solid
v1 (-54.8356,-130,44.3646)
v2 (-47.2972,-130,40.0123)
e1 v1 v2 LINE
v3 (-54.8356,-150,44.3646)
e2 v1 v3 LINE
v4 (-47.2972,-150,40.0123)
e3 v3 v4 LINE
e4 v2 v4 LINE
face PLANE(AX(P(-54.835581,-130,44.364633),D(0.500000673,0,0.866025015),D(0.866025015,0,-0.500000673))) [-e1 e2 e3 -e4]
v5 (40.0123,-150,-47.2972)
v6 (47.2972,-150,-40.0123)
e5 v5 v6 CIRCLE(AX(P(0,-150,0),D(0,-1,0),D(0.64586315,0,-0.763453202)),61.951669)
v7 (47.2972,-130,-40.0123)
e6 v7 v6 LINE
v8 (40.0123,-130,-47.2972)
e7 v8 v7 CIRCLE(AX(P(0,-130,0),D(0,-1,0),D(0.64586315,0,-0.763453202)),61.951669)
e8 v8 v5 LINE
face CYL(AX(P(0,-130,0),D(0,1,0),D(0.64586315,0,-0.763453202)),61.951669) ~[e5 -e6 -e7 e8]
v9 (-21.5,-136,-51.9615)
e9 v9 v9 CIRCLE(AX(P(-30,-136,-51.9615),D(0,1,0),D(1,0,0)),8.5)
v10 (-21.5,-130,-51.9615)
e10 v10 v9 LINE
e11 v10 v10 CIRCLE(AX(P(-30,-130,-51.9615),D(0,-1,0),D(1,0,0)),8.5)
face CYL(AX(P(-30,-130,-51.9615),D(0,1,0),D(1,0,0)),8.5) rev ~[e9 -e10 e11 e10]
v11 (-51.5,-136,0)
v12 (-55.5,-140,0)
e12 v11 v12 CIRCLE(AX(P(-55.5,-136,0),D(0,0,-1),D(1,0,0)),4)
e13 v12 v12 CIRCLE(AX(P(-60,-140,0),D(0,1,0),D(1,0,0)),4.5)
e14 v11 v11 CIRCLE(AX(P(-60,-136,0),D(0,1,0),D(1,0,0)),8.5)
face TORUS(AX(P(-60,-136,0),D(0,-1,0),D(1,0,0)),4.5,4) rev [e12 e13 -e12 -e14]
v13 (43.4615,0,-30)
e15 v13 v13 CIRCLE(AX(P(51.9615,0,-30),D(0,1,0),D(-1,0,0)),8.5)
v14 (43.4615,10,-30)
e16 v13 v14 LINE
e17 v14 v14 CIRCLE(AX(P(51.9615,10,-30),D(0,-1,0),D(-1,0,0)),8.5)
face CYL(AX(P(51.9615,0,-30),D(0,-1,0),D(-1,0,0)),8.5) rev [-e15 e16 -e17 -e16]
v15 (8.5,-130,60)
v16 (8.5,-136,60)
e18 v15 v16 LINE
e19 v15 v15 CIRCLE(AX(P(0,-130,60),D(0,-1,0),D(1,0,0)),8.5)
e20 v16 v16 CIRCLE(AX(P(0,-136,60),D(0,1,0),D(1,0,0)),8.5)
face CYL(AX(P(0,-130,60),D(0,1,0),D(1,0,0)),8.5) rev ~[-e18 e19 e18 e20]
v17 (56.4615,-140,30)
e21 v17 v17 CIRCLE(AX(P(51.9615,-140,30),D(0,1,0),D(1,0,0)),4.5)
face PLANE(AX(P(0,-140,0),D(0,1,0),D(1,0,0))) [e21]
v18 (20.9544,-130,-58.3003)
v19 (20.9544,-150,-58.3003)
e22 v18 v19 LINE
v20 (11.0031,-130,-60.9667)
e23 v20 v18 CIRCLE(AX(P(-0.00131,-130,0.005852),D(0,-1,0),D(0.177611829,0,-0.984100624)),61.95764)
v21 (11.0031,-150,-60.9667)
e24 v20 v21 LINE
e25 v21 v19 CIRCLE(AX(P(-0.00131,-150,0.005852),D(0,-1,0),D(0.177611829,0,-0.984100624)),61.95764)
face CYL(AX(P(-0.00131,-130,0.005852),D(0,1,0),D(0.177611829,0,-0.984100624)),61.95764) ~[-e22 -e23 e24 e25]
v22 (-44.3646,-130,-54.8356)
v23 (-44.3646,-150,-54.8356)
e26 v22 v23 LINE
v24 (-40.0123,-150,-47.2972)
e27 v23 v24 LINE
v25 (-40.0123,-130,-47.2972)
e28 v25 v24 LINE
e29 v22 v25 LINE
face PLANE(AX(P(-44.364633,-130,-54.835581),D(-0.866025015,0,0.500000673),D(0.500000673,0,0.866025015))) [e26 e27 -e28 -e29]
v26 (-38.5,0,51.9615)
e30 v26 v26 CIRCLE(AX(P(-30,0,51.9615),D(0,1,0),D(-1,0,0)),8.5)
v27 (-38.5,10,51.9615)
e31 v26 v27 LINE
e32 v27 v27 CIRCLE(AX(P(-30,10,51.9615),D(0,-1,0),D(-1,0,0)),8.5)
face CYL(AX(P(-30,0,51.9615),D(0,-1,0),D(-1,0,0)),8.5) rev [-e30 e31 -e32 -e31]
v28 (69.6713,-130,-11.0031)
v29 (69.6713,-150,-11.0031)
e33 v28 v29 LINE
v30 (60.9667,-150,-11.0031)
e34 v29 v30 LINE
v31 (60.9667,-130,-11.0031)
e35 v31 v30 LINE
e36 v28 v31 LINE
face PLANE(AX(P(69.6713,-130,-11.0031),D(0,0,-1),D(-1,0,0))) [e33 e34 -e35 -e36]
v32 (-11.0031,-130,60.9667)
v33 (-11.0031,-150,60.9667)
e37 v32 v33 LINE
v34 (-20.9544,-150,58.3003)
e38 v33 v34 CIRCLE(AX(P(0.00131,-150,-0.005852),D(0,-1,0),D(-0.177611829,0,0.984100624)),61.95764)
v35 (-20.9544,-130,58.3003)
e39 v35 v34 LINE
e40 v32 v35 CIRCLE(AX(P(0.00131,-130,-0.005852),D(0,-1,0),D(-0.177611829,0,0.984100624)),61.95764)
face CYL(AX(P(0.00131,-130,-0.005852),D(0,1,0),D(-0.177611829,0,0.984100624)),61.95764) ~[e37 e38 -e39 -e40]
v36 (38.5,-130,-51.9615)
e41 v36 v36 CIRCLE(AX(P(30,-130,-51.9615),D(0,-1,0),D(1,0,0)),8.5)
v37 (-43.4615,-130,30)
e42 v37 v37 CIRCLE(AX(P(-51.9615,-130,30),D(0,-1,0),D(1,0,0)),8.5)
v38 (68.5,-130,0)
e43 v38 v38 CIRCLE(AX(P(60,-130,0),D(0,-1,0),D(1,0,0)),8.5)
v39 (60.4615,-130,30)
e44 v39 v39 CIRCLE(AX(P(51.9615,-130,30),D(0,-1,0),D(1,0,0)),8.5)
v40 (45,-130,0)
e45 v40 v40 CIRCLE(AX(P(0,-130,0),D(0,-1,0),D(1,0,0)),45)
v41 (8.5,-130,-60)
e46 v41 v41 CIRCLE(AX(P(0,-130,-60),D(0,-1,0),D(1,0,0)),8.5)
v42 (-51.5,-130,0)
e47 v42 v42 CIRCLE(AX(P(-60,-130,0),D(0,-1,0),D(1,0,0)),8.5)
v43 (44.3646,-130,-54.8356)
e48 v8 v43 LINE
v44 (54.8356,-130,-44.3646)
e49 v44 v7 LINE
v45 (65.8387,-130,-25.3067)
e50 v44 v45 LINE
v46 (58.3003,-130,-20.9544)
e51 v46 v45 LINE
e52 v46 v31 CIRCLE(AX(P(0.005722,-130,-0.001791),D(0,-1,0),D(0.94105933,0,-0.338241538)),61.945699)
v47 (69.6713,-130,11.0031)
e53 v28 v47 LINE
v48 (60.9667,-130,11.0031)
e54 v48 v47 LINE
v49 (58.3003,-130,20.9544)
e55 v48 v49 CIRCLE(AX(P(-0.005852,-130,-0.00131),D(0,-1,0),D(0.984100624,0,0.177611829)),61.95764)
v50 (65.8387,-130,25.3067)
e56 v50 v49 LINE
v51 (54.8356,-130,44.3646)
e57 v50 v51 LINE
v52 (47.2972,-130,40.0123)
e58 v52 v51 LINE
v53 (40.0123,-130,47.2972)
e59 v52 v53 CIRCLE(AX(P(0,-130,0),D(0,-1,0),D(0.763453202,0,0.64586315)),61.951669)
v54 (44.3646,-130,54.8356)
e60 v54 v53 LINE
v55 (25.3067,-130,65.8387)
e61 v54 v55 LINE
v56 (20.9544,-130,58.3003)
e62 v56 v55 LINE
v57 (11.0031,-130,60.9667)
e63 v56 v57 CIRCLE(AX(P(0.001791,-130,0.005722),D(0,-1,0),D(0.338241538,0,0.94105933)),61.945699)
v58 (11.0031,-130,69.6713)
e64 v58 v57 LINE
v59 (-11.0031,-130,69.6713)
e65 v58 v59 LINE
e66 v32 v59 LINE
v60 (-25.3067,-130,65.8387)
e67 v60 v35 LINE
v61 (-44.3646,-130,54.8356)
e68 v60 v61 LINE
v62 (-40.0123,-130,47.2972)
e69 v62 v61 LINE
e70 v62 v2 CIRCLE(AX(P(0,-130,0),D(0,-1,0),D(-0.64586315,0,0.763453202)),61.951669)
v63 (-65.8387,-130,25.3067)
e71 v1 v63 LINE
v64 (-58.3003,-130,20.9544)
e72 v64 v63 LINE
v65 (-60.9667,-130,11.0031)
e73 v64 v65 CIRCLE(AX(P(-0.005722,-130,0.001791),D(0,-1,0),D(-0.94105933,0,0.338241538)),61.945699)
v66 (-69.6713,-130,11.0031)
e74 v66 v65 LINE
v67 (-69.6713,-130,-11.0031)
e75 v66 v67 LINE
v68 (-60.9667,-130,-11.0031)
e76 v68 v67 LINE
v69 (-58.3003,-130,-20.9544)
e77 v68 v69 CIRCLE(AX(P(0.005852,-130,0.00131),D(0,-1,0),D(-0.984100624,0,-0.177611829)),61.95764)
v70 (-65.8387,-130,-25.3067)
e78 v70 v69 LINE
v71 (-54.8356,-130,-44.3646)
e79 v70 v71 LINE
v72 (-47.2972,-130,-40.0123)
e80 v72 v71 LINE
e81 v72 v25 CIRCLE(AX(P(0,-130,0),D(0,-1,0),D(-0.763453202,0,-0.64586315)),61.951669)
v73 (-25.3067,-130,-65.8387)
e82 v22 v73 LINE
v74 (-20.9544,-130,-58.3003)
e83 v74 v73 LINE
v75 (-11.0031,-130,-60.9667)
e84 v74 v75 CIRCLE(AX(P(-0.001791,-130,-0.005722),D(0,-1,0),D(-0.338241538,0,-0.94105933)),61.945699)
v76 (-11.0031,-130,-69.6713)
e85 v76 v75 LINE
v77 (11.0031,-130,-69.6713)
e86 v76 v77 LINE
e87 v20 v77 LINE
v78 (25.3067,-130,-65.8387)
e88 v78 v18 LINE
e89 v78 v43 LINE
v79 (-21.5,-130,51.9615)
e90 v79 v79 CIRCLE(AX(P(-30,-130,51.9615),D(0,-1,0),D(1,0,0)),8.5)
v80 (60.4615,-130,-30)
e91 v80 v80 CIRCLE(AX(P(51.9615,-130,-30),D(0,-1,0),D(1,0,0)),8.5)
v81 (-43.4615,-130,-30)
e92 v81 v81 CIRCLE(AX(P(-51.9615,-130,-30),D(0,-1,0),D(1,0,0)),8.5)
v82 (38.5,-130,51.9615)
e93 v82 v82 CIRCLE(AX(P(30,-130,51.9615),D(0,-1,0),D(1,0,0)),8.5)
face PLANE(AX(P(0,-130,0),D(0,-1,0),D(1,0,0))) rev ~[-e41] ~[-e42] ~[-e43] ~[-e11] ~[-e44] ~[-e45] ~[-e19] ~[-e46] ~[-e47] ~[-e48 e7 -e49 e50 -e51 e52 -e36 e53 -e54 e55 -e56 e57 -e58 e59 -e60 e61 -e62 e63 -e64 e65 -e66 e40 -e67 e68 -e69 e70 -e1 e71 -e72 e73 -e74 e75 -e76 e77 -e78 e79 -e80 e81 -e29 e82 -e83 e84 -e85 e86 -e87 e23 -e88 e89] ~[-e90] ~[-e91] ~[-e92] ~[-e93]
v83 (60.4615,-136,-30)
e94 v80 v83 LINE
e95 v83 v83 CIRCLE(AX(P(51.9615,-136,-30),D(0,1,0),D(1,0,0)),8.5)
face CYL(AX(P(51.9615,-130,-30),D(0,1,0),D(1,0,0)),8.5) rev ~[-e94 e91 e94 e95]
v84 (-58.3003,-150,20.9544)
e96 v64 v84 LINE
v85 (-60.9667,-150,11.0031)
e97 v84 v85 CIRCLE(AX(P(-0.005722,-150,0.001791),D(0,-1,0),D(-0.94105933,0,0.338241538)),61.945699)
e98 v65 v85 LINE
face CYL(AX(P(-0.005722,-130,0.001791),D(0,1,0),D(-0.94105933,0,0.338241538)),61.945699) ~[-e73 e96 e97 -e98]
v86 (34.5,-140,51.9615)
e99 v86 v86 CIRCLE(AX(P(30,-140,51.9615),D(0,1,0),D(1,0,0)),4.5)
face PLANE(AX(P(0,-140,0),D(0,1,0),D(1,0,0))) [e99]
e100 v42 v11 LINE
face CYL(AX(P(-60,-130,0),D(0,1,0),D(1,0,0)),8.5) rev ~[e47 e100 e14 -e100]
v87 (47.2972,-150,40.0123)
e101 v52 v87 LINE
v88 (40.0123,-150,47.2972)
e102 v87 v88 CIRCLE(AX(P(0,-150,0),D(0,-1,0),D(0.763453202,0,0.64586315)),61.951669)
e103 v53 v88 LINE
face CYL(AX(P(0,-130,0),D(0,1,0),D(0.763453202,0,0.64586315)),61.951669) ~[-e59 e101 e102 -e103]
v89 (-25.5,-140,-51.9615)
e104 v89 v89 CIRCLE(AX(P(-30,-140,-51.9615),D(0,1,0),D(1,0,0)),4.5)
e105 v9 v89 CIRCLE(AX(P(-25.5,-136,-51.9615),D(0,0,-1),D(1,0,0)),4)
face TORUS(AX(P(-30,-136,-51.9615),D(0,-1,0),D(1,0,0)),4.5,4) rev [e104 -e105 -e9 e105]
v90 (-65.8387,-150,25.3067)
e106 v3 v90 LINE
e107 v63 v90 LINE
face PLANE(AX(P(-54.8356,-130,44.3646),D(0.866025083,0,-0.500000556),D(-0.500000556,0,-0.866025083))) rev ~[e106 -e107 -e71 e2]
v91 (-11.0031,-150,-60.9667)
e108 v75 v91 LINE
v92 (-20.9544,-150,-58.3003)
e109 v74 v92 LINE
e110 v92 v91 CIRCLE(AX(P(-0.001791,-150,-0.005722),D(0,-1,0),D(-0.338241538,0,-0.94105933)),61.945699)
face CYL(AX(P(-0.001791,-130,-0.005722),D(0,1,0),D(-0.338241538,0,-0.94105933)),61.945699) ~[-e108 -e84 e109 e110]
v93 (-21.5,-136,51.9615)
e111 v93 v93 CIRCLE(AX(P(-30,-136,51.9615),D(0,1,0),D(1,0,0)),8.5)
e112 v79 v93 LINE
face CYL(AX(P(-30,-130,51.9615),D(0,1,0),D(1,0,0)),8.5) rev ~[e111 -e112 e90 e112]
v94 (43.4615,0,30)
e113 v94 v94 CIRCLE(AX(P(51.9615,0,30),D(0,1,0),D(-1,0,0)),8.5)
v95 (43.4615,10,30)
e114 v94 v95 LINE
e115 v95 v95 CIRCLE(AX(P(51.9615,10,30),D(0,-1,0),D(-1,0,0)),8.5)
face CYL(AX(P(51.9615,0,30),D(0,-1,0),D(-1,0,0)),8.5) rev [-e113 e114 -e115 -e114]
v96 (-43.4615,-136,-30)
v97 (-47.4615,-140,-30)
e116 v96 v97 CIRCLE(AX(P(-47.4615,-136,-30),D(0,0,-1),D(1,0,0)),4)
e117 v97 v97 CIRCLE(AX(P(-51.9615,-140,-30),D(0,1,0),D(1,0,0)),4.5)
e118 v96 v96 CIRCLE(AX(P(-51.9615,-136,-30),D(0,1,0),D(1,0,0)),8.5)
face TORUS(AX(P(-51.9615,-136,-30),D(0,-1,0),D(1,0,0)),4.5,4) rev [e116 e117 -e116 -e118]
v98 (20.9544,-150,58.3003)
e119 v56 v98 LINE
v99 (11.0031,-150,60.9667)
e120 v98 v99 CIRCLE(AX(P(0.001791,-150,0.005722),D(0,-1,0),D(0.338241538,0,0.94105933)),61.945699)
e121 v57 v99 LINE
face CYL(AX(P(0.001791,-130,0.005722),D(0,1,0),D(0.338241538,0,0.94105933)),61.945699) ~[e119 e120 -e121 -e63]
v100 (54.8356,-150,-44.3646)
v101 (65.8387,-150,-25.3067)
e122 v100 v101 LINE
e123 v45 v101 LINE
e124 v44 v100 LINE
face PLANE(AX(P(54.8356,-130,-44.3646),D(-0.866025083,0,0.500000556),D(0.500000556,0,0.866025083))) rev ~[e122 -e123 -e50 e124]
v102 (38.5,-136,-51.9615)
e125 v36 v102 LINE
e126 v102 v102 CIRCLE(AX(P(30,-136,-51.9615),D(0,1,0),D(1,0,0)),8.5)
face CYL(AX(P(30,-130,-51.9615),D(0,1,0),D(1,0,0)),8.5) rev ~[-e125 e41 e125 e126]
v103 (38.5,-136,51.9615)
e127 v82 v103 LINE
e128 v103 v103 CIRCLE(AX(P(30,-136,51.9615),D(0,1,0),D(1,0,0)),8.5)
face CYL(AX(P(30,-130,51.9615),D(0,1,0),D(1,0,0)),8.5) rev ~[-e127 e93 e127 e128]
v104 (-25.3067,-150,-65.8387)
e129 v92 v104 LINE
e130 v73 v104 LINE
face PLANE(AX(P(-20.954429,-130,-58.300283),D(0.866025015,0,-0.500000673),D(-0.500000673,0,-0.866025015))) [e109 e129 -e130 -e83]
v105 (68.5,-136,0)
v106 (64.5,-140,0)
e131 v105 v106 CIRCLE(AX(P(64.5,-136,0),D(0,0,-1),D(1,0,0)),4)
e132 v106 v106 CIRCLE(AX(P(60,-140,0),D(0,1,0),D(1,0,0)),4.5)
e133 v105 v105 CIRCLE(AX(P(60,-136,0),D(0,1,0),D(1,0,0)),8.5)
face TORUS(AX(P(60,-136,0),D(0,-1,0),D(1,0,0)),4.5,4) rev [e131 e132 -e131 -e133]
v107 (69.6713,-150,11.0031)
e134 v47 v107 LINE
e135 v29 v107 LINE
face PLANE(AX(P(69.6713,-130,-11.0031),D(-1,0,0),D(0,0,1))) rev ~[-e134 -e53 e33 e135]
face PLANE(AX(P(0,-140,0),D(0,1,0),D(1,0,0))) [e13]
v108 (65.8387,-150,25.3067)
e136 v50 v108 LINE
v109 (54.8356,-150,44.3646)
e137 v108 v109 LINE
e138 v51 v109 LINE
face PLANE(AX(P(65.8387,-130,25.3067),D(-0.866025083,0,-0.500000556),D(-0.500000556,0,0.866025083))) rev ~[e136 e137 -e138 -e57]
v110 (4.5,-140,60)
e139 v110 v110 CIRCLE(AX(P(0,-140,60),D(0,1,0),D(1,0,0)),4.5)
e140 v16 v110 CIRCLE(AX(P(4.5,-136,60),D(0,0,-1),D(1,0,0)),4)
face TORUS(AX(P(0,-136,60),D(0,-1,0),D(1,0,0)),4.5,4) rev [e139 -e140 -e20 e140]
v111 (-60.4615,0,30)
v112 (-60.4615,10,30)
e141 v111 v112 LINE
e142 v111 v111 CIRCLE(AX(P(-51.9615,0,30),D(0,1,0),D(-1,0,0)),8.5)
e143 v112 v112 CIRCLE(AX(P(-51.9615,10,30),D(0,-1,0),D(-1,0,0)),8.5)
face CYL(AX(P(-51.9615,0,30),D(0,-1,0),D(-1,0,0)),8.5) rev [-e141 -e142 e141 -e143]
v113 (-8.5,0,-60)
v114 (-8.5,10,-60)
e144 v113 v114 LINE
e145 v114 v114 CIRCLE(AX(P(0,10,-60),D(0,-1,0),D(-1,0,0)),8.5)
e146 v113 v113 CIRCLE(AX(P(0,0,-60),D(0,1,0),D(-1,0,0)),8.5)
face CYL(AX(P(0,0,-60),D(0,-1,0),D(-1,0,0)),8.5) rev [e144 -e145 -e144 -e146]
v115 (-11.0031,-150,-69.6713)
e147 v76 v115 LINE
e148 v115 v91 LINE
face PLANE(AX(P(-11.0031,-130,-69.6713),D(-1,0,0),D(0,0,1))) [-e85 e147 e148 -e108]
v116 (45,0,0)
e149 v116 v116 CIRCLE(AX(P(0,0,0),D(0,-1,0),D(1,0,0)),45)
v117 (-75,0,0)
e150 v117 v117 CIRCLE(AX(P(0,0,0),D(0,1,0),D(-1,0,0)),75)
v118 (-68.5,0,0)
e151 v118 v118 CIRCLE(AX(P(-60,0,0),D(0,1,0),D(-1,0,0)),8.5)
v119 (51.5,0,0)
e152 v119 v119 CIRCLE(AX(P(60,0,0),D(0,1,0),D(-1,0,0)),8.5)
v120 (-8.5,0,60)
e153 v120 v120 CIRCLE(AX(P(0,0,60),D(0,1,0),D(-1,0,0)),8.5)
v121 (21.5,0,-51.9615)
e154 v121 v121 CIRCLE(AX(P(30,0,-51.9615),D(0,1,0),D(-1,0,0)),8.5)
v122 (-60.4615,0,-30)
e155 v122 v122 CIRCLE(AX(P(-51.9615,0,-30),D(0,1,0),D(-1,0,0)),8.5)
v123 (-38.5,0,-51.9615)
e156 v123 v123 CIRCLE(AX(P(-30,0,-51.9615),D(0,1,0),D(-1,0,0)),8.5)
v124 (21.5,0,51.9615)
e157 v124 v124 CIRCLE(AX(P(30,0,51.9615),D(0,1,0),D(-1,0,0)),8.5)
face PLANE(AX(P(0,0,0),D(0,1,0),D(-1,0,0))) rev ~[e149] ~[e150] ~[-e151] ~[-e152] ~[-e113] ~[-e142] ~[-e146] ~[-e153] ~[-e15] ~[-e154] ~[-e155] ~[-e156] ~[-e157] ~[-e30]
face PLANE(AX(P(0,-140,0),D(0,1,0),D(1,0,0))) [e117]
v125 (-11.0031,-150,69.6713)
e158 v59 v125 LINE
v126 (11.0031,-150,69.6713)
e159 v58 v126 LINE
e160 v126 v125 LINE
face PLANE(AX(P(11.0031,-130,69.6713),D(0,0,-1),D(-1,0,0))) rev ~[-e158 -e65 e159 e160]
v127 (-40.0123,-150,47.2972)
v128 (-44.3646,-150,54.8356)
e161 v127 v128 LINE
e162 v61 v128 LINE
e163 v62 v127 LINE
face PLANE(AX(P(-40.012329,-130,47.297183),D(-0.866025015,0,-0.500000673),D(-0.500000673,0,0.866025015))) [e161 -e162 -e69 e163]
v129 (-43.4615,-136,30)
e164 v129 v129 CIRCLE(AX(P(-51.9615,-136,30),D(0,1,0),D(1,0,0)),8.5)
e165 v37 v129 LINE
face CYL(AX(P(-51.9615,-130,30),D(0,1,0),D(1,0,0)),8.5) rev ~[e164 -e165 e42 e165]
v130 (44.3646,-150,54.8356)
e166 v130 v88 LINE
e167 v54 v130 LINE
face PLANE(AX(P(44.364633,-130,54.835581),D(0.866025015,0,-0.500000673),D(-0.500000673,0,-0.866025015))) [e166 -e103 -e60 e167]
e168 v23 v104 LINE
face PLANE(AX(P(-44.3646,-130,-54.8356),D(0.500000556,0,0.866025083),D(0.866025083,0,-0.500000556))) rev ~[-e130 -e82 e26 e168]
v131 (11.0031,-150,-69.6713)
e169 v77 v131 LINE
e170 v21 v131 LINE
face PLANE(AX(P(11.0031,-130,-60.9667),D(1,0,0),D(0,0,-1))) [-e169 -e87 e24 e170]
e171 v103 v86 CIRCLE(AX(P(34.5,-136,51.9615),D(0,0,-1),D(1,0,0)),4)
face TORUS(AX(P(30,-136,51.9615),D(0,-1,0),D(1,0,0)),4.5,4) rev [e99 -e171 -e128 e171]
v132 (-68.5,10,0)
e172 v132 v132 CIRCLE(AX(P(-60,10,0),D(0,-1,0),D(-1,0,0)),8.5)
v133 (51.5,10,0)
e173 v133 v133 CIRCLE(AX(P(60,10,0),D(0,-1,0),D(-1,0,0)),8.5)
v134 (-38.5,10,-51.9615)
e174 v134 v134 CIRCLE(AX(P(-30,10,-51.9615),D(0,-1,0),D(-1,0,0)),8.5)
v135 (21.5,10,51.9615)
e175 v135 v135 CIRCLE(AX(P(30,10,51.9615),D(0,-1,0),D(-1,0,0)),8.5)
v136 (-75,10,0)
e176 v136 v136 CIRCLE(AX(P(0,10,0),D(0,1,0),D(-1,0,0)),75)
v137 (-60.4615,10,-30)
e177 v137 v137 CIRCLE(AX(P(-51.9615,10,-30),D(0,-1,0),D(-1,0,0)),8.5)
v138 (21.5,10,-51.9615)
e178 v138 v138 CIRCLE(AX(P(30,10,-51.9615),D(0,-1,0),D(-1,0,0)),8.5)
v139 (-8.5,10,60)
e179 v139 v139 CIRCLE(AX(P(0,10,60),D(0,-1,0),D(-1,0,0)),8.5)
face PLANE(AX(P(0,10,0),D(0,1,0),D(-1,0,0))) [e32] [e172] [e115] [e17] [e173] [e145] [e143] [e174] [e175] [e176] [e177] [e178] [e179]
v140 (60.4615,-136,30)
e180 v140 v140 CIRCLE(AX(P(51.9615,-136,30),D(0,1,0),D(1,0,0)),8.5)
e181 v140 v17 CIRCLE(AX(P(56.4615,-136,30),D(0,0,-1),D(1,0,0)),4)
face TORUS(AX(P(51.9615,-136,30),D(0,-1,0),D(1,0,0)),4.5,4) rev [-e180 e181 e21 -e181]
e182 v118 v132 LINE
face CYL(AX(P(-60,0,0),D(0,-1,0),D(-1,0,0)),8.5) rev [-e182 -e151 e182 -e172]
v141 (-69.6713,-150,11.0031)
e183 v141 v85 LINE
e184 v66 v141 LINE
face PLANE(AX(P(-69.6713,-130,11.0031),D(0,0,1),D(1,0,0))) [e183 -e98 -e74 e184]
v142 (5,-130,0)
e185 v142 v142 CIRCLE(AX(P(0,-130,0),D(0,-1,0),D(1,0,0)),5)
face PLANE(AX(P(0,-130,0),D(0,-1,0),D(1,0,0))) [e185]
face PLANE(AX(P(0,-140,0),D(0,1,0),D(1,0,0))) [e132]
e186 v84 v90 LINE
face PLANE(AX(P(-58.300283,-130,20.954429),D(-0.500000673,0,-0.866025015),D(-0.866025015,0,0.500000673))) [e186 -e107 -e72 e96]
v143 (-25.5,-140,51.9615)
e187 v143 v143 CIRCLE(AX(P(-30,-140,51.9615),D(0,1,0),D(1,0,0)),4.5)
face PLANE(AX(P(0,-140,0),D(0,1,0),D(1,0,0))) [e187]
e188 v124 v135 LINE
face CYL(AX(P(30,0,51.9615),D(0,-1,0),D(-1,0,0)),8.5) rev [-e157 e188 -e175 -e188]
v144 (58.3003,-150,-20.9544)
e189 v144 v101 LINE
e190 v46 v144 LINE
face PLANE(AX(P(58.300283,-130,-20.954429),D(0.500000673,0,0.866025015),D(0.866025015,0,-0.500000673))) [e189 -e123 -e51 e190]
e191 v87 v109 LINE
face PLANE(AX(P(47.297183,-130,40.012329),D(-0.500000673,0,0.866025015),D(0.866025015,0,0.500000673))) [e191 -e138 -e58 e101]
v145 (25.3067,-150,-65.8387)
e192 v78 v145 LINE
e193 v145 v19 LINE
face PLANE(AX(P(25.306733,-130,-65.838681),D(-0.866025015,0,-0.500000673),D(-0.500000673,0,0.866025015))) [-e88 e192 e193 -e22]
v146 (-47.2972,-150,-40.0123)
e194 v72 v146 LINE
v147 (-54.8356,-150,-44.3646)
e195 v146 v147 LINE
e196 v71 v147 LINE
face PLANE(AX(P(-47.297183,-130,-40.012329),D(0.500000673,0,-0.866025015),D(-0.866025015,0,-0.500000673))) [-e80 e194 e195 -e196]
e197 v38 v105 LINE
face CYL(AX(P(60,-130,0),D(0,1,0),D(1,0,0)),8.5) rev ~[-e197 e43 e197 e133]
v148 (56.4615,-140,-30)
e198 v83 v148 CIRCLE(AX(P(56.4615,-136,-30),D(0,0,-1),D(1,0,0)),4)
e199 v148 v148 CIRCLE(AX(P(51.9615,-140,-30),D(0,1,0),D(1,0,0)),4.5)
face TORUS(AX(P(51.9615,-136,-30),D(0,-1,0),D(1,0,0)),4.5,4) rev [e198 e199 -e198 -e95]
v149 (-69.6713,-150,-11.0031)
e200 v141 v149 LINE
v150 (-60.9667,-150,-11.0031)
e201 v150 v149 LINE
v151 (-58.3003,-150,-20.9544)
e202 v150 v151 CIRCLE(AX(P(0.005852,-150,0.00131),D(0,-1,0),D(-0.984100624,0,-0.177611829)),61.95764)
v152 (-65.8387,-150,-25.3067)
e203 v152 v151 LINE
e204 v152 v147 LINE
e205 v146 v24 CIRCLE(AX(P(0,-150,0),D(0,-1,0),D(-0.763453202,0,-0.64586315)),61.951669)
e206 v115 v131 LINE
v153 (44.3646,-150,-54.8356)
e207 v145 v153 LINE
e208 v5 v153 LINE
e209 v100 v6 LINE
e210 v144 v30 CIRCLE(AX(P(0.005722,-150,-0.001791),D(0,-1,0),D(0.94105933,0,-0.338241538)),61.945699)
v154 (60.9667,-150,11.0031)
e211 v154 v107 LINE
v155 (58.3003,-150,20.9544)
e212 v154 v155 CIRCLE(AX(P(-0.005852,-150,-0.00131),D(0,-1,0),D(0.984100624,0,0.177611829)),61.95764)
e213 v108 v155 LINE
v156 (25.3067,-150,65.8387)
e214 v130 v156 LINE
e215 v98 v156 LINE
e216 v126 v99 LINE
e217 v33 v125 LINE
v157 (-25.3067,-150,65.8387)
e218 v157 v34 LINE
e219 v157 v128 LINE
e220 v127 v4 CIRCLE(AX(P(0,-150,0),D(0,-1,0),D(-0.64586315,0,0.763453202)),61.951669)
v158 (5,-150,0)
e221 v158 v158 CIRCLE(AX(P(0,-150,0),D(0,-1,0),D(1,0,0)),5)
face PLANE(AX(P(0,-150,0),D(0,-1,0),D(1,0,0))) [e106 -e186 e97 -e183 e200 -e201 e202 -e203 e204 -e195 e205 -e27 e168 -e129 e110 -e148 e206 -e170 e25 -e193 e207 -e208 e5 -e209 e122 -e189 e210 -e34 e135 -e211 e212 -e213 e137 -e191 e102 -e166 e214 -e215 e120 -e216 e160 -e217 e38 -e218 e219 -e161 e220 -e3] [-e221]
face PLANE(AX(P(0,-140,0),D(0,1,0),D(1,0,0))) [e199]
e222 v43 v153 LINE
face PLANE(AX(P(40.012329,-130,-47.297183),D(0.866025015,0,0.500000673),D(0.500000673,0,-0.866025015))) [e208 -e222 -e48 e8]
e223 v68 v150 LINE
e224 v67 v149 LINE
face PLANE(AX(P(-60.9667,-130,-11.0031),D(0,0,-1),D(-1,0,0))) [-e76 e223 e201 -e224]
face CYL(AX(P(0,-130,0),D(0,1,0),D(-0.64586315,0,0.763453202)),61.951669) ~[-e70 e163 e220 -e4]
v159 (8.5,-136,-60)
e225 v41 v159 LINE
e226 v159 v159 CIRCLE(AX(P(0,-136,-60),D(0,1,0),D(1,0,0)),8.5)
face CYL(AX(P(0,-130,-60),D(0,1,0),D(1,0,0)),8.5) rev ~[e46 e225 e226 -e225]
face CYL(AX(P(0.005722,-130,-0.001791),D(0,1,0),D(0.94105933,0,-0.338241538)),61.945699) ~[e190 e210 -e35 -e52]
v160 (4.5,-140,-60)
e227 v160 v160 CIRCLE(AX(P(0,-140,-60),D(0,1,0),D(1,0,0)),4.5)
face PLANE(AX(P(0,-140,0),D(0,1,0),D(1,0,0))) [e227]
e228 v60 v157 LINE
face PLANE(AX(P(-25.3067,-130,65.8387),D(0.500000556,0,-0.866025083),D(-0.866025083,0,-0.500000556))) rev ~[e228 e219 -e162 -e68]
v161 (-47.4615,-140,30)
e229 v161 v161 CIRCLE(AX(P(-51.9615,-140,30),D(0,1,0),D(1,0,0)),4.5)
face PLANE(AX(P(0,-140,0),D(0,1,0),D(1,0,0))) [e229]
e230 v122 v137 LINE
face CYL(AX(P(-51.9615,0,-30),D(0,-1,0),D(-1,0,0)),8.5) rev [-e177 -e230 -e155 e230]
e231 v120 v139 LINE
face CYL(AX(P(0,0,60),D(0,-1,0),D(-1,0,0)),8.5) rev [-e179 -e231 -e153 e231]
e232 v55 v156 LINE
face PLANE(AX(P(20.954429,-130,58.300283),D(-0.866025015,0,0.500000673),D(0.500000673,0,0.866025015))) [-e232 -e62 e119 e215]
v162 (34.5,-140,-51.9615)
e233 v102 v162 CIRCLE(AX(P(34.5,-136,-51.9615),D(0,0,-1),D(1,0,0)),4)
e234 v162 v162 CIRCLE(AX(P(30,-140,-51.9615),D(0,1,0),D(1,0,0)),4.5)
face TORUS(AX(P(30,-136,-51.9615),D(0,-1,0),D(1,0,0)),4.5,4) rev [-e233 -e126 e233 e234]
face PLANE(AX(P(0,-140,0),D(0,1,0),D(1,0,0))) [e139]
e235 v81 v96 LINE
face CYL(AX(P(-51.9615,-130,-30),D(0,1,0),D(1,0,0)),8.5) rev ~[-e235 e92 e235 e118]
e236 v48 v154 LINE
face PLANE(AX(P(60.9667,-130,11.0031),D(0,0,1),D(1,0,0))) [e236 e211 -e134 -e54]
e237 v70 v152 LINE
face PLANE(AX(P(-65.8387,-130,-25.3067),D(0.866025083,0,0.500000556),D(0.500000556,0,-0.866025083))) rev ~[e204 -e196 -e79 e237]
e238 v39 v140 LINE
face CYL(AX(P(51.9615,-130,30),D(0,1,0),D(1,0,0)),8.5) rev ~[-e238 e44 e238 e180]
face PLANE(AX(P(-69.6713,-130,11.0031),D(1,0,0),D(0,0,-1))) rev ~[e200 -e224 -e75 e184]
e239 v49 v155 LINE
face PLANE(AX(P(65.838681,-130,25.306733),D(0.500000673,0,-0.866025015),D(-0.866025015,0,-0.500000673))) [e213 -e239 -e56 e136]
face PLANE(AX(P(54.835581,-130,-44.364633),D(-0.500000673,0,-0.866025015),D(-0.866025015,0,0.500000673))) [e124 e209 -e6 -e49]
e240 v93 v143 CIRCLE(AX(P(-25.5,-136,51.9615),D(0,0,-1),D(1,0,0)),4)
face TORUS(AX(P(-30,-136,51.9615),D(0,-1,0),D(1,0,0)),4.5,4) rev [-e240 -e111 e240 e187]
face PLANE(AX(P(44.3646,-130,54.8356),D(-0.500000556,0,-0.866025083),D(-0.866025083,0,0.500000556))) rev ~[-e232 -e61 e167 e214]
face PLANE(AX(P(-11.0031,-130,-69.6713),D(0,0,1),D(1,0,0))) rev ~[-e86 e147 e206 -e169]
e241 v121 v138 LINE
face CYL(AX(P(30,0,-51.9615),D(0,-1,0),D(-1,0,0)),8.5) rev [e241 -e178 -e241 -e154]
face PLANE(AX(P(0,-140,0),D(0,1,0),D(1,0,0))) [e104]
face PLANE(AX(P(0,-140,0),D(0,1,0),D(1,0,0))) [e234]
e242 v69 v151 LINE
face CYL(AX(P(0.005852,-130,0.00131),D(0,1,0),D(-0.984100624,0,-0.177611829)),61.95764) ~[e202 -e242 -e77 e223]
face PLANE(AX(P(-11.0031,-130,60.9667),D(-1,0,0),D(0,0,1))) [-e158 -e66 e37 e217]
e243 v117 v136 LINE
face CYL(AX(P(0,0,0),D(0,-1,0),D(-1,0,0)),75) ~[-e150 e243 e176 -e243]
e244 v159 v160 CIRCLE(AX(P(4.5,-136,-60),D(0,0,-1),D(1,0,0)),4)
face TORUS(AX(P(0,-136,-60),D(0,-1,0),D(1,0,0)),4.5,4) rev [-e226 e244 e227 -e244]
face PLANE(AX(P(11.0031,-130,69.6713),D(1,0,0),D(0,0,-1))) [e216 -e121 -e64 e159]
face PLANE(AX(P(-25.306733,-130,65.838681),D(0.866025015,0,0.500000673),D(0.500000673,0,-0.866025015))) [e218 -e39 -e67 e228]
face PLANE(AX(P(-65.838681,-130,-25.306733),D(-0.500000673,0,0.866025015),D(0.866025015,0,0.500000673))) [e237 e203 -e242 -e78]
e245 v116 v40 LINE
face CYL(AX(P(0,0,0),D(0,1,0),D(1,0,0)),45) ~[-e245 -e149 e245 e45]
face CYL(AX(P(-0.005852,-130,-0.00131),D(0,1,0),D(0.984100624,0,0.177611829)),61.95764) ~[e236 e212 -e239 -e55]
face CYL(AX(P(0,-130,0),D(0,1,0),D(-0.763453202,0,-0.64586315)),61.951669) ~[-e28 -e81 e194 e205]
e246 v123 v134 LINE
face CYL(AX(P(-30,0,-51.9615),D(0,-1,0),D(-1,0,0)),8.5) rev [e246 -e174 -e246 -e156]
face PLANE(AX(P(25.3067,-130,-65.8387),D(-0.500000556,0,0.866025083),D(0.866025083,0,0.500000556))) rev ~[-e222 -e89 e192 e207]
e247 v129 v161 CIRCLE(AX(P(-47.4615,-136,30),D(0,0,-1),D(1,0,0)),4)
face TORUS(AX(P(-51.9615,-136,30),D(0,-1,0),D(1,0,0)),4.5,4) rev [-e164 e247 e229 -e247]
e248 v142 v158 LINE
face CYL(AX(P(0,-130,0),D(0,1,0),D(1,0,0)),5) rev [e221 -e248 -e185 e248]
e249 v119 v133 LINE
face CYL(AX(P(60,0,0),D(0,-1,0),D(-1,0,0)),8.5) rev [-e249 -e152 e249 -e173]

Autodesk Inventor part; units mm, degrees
ref_plane "YZ Plane" through (0, 0, 0) normal (1, 0, 0) x (0, 1, 0)
ref_plane "XZ Plane" through (0, 0, 0) normal (0, 1, 0) x (-1, 0, 0)
ref_plane "XY Plane" through (0, 0, 0) normal (0, 0, 1) x (1, 0, 0)
sketch "Sketch1" plane through (0, 0, 0) normal (0, 1, 0) x (-1, 0, 0)
  circle A0 centre (0, 0) radius 75
  circle A1 centre (0, 0) radius 60
  circle A2 centre (0, 60) radius 8.5
  circle A3 centre (-30, 51.9615) radius 8.5
  circle A4 centre (-51.9615, 30) radius 8.5
  circle A5 centre (-60, 0) radius 8.5
  circle A6 centre (-51.9615, -30) radius 8.5
  circle A7 centre (-30, -51.9615) radius 8.5
  circle A8 centre (0, -60) radius 8.5
  circle A9 centre (30, -51.9615) radius 8.5
  circle A10 centre (51.9615, -30) radius 8.5
  circle A11 centre (60, 0) radius 8.5
  circle A12 centre (51.9615, 30) radius 8.5
  circle A13 centre (30, 51.9615) radius 8.5
  dimension "d1" = 120
  dimension "d0" = 150
  dimension "d2" = 17
  dimension "d5" = 360
extrude "Extrusion1" add sketch "Sketch1" along normal blind 10 contours A0 | A11 A1 A10 A9 A8 A7 A6 A5 A4 A3 A2 A13 A12
sketch "Sketch2" plane through (0, 0, 0) normal (0, -1, 0) x (1, 0, 0)
  circle A0 centre (0, 0) radius 45
  dimension "d9" = 90
extrude "Extrusion2" add sketch "Sketch2" along normal blind 130
sketch "Sketch3" plane through (0, -130, 0) normal (0, -1, 0) x (1, 0, 0)
  circle A0 centre (0, 0) radius 5
  line L0 (-11.0031, 74.0969) -> (11.0031, 74.0969)
  line L1 (11.0031, 74.0969) -> (11.0031, 56.269)
  line L2 (11.0031, 56.269) -> (-11.0031, 56.269)
  line L3 (-11.0031, 56.269) -> (-11.0031, 74.0969)
  line L4 (11.0031, 74.0969) -> (0, 65.183) construction
  line L5 (-27.5195, 69.6713) -> (-18.6056, 54.232)
  line L6 (-18.6056, 54.232) -> (-37.6635, 43.2289)
  line L7 (-37.6635, 43.2289) -> (-46.5774, 58.6682)
  line L8 (-46.5774, 58.6682) -> (-27.5195, 69.6713)
  line L9 (-58.6682, 46.5774) -> (-43.2289, 37.6635)
  line L10 (-43.2289, 37.6635) -> (-54.232, 18.6056)
  line L11 (-54.232, 18.6056) -> (-69.6713, 27.5195)
  line L12 (-69.6713, 27.5195) -> (-58.6682, 46.5774)
  line L13 (-74.0969, 11.0031) -> (-56.269, 11.0031)
  line L14 (-56.269, 11.0031) -> (-56.269, -11.0031)
  line L15 (-56.269, -11.0031) -> (-74.0969, -11.0031)
  line L16 (-74.0969, -11.0031) -> (-74.0969, 11.0031)
  line L17 (-69.6713, -27.5195) -> (-54.232, -18.6056)
  line L18 (-54.232, -18.6056) -> (-43.2289, -37.6635)
  line L19 (-43.2289, -37.6635) -> (-58.6682, -46.5774)
  line L20 (-58.6682, -46.5774) -> (-69.6713, -27.5195)
  line L21 (-46.5774, -58.6682) -> (-37.6635, -43.2289)
  line L22 (-37.6635, -43.2289) -> (-18.6056, -54.232)
  line L23 (-18.6056, -54.232) -> (-27.5195, -69.6713)
  line L24 (-27.5195, -69.6713) -> (-46.5774, -58.6682)
  line L25 (-11.0031, -74.0969) -> (-11.0031, -56.269)
  line L26 (-11.0031, -56.269) -> (11.0031, -56.269)
  line L27 (11.0031, -56.269) -> (11.0031, -74.0969)
  line L28 (11.0031, -74.0969) -> (-11.0031, -74.0969)
  line L29 (27.5195, -69.6713) -> (18.6056, -54.232)
  line L30 (18.6056, -54.232) -> (37.6635, -43.2289)
  line L31 (37.6635, -43.2289) -> (46.5774, -58.6682)
  line L32 (46.5774, -58.6682) -> (27.5195, -69.6713)
  line L33 (58.6682, -46.5774) -> (43.2289, -37.6635)
  line L34 (43.2289, -37.6635) -> (54.232, -18.6056)
  line L35 (54.232, -18.6056) -> (69.6713, -27.5195)
  line L36 (69.6713, -27.5195) -> (58.6682, -46.5774)
  line L37 (74.0969, -11.0031) -> (56.269, -11.0031)
  line L38 (56.269, -11.0031) -> (56.269, 11.0031)
  line L39 (56.269, 11.0031) -> (74.0969, 11.0031)
  line L40 (74.0969, 11.0031) -> (74.0969, -11.0031)
  line L41 (69.6713, 27.5195) -> (54.232, 18.6056)
  line L42 (54.232, 18.6056) -> (43.2289, 37.6635)
  line L43 (43.2289, 37.6635) -> (58.6682, 46.5774)
  line L44 (58.6682, 46.5774) -> (69.6713, 27.5195)
  line L45 (46.5774, 58.6682) -> (37.6635, 43.2289)
  line L46 (37.6635, 43.2289) -> (18.6056, 54.232)
  line L47 (18.6056, 54.232) -> (27.5195, 69.6713)
  line L48 (27.5195, 69.6713) -> (46.5774, 58.6682)
  arc A1 (-11.0031, 60.9667) -> (-20.9544, 58.3003) centre (0, 0) ccw
  arc A2 (20.9544, 58.3003) -> (11.0031, 60.9667) centre (0, 0) ccw
  arc A3 (47.2972, 40.0123) -> (40.0123, 47.2972) centre (0, 0) ccw
  arc A4 (-40.0123, 47.2972) -> (-47.2972, 40.0123) centre (0, 0) ccw
  arc A5 (-58.3003, 20.9544) -> (-60.9667, 11.0031) centre (0, 0) ccw
  arc A6 (-60.9667, -11.0031) -> (-58.3003, -20.9544) centre (0, 0) ccw
  arc A7 (-47.2972, -40.0123) -> (-40.0123, -47.2972) centre (0, 0) ccw
  arc A8 (-20.9544, -58.3003) -> (-11.0031, -60.9667) centre (0, 0) ccw
  arc A9 (11.0031, -60.9667) -> (20.9544, -58.3003) centre (0, 0) ccw
  arc A10 (40.0123, -47.2972) -> (47.2972, -40.0123) centre (0, 0) ccw
  arc A11 (58.3003, -20.9544) -> (60.9667, -11.0031) centre (0, 0) ccw
  arc A12 (60.9667, 11.0031) -> (58.3003, 20.9544) centre (0, 0) ccw
  circle A13 centre (0, 0) radius 59.8407
  line L49 (-69.6713, -11.0031) -> (-49.8173, -11.0031)
  line L50 (-49.8173, -11.0031) -> (-49.8173, 11.0031)
  line L51 (-49.8173, 11.0031) -> (-69.6713, 11.0031)
  line L52 (-69.6713, 11.0031) -> (-69.6713, -11.0031)
  line L53 (-74.0969, 11.0031) -> (-56.269, 11.0031)
  line L54 (-65.8387, -25.3067) -> (-54.8356, -44.3646)
  line L55 (-48.6446, -15.3797) -> (-65.8387, -25.3067)
  line L56 (-37.6415, -34.4376) -> (-48.6446, -15.3797)
  line L57 (-54.8356, -44.3646) -> (-37.6415, -34.4376)
  line L58 (-69.6713, -27.5195) -> (-54.232, -18.6056)
  line L59 (-44.3646, -54.8356) -> (-25.3067, -65.8387)
  line L60 (-34.4376, -37.6415) -> (-44.3646, -54.8356)
  line L61 (-15.3797, -48.6446) -> (-34.4376, -37.6415)
  line L62 (-25.3067, -65.8387) -> (-15.3797, -48.6446)
  line L63 (-46.5774, -58.6682) -> (-37.6635, -43.2289)
  line L64 (-11.0031, -69.6713) -> (11.0031, -69.6713)
  line L65 (-11.0031, -49.8173) -> (-11.0031, -69.6713)
  line L66 (11.0031, -49.8173) -> (-11.0031, -49.8173)
  line L67 (11.0031, -69.6713) -> (11.0031, -49.8173)
  line L68 (-11.0031, -74.0969) -> (-11.0031, -56.269)
  line L69 (25.3067, -65.8387) -> (44.3646, -54.8356)
  line L70 (15.3797, -48.6446) -> (25.3067, -65.8387)
  line L71 (34.4376, -37.6415) -> (15.3797, -48.6446)
  line L72 (44.3646, -54.8356) -> (34.4376, -37.6415)
  line L73 (27.5195, -69.6713) -> (18.6056, -54.232)
  line L74 (54.8356, -44.3646) -> (65.8387, -25.3067)
  line L75 (37.6415, -34.4376) -> (54.8356, -44.3646)
  line L76 (48.6446, -15.3797) -> (37.6415, -34.4376)
  line L77 (65.8387, -25.3067) -> (48.6446, -15.3797)
  line L78 (58.6682, -46.5774) -> (43.2289, -37.6635)
  line L79 (69.6713, -11.0031) -> (69.6713, 11.0031)
  line L80 (49.8173, -11.0031) -> (69.6713, -11.0031)
  line L81 (49.8173, 11.0031) -> (49.8173, -11.0031)
  line L82 (69.6713, 11.0031) -> (49.8173, 11.0031)
  line L83 (74.0969, -11.0031) -> (56.269, -11.0031)
  line L84 (65.8387, 25.3067) -> (54.8356, 44.3646)
  line L85 (48.6446, 15.3797) -> (65.8387, 25.3067)
  line L86 (37.6415, 34.4376) -> (48.6446, 15.3797)
  line L87 (54.8356, 44.3646) -> (37.6415, 34.4376)
  line L88 (69.6713, 27.5195) -> (54.232, 18.6056)
  line L89 (44.3646, 54.8356) -> (25.3067, 65.8387)
  line L90 (34.4376, 37.6415) -> (44.3646, 54.8356)
  line L91 (15.3797, 48.6446) -> (34.4376, 37.6415)
  line L92 (25.3067, 65.8387) -> (15.3797, 48.6446)
  line L93 (46.5774, 58.6682) -> (37.6635, 43.2289)
  line L94 (11.0031, 69.6713) -> (-11.0031, 69.6713)
  line L95 (11.0031, 49.8173) -> (11.0031, 69.6713)
  line L96 (-11.0031, 49.8173) -> (11.0031, 49.8173)
  line L97 (-11.0031, 69.6713) -> (-11.0031, 49.8173)
  line L98 (11.0031, 74.0969) -> (11.0031, 56.269)
  line L99 (-25.3067, 65.8387) -> (-44.3646, 54.8356)
  line L100 (-15.3797, 48.6446) -> (-25.3067, 65.8387)
  line L101 (-34.4376, 37.6415) -> (-15.3797, 48.6446)
  line L102 (-44.3646, 54.8356) -> (-34.4376, 37.6415)
  line L103 (-27.5195, 69.6713) -> (-18.6056, 54.232)
  line L104 (-54.8356, 44.3646) -> (-65.8387, 25.3067)
  line L105 (-37.6415, 34.4376) -> (-54.8356, 44.3646)
  line L106 (-48.6446, 15.3797) -> (-37.6415, 34.4376)
  line L107 (-65.8387, 25.3067) -> (-48.6446, 15.3797)
  point P0 (-58.3003, -20.9544)
  point P1 (-11.0031, -60.9667)
  point P2 (20.9544, -58.3003)
  point P3 (47.2972, -40.0123)
  point P4 (60.9667, -11.0031)
  point P5 (58.3003, 20.9544)
  point P6 (40.0123, 47.2972)
  point P7 (11.0031, 60.9667)
  point P8 (-20.9544, 58.3003)
  dimension "d68" = 360
  dimension "d105" = 360
extrude "Extrusion9" add sketch "Sketch3" along normal blind 20 contours L94 L1 A13 L3 | L3 A13 L5 A1 | A2 L47 A13 L1 | A13 L1 L2 L3 | L3 L97 L96 L95 L1 A13 L47 L92 L91 L90 L45 L43 L87 L86 L85 L41 L39 L82 L81 L80 L37 L35 L77 L76 L75 L33 L31 L72 L71 L70 L29 L27 L67 L66 L65 L25 L23 L62 L61 L60 L21 L19 L57 L56 L55 L17 L15 L49 L50 L51 L13 L11 L107 L106 L105 L9 L7 L102 L101 L100 L5 | L5 A13 L7 L99 | L47 L89 L45 A13 | L2 L95 L96 L97 | L5 L6 L7 A13 | A13 L45 L46 L47 | L100 L101 L102 L6 | A13 L9 A4 L7 | L46 L90 L91 L92 | L45 A3 L43 A13 | A13 L11 L104 L9 | L9 L10 L11 A13 | A13 L41 L42 L43 | L43 L84 L41 A13 | L105 L106 L107 L10 | A13 L13 A5 L11 | L42 L85 L86 L87 | L41 A12 L39 A13 | A13 L15 L52 L13 | L13 L14 L15 A13 | A13 L37 L38 L39 | L39 L79 L37 A13 | L51 L50 L49 L14 | A13 L17 A6 L15 | L38 L80 L81 L82 | A13 L19 L54 L17 | L17 L18 L19 A13 | L37 A11 L35 A13 | L55 L56 L57 L18 | A13 L21 A7 L19 | A13 L33 L34 L35 | L35 L74 L33 A13 | A13 L23 L59 L21 | L21 L22 L23 A13 | L34 L75 L76 L77 | L33 A10 L31 A13 | L60 L61 L62 L22 | A13 L25 A8 L23 | A13 L29 L30 L31 | L31 L69 L29 A13 | A13 L27 L64 L25 | L25 L26 L27 A13 | L30 L70 L71 L72 | L29 A9 L27 A13 | L65 L66 L67 L26
sketch "Sketch7" plane through (0, -130, 0) normal (0, 1, 0) x (1, 0, 0)
  circle A0 centre (0, 0) radius 5 projected
  circle A1 centre (0, 0) radius 60
  circle A2 centre (-60, 0) radius 8.5
  circle A3 centre (-51.9615, -30) radius 8.5
  circle A4 centre (-30, -51.9615) radius 8.5
  circle A5 centre (0, -60) radius 8.5
  circle A6 centre (30, -51.9615) radius 8.5
  circle A7 centre (51.9615, -30) radius 8.5
  circle A8 centre (60, 0) radius 8.5
  circle A9 centre (51.9615, 30) radius 8.5
  circle A10 centre (30, 51.9615) radius 8.5
  circle A11 centre (0, 60) radius 8.5
  circle A12 centre (-30, 51.9615) radius 8.5
  circle A13 centre (-51.9615, 30) radius 8.5
  dimension "d71" = 120
  dimension "d72" = 17
  dimension "d75" = 360
extrude "Extrusion10" cut sketch "Sketch7" against normal blind 10 contours A1 A8 | A1 A8 | A9 A1 | A1 A9 | A7 A1 | A1 A7 | A10 A1 | A1 A10 | A6 A1 | A1 A6 | A11 A1 | A1 A11 | A5 A1 | A1 A5 | A12 A1 | A1 A12 | A4 A1 | A1 A4 | A13 A1 | A1 A13 | A3 A1 | A1 A3 | A2 A1 | A1 A2
fillet "Fillet1" radius 4 12 edges at (-68.5, -140, 0) (-60.4615, -140, -30) (-60.4615, -140, 30) (-38.5, -140, 51.9615) (-8.5, -140, 60) (21.5, -140, 51.9615) (43.4615, -140, 30) (51.5, -140, 0) (-38.5, -140, -51.9615) (-8.5, -140, -60) (21.5, -140, -51.9615) (43.4615, -140, -30)
sketch "Sketch8" plane through (0, -150, 0) normal (0, -1, 0) x (1, 0, 0)
  circle A0 centre (0, 0) radius 62.2015
  line L0 (11.5029, -60.4669) -> (-11.5031, -60.4669)
  line L1 (-11.5031, -60.4669) -> (-11.5031, -74.5969)
  line L2 (-11.0031, -60.9667) -> (-11.0031, -69.6713) projected
  line L3 (11.0031, -69.6713) -> (11.0031, -60.9667) projected
  line L4 (-11.5031, -74.5969) -> (11.5029, -74.5969)
  line L5 (11.5029, -60.4669) -> (11.5029, -74.5969)
  line L6 (-11.0031, -74.0969) -> (11.0031, -74.0969) projected
  line L7 (40.1952, -46.6144) -> (20.2715, -58.1174)
  line L8 (40.1952, -46.6144) -> (47.2602, -58.8513)
  line L9 (27.3365, -70.3543) -> (47.2602, -58.8513)
  line L10 (20.2715, -58.1174) -> (27.3365, -70.3543)
  line L11 (58.1173, -20.2716) -> (46.6143, -40.1954)
  line L12 (58.1173, -20.2716) -> (70.3542, -27.3366)
  line L13 (58.8512, -47.2604) -> (70.3542, -27.3366)
  line L14 (46.6143, -40.1954) -> (58.8512, -47.2604)
  line L15 (60.4669, 11.5029) -> (60.4669, -11.5031)
  line L16 (60.4669, 11.5029) -> (74.5969, 11.5029)
  line L17 (74.5969, -11.5031) -> (74.5969, 11.5029)
  line L18 (60.4669, -11.5031) -> (74.5969, -11.5031)
  line L19 (46.6144, 40.1952) -> (58.1174, 20.2715)
  line L20 (46.6144, 40.1952) -> (58.8513, 47.2602)
  line L21 (70.3543, 27.3365) -> (58.8513, 47.2602)
  line L22 (58.1174, 20.2715) -> (70.3543, 27.3365)
  line L23 (20.2716, 58.1173) -> (40.1954, 46.6143)
  line L24 (20.2716, 58.1173) -> (27.3366, 70.3542)
  line L25 (47.2604, 58.8512) -> (27.3366, 70.3542)
  line L26 (40.1954, 46.6143) -> (47.2604, 58.8512)
  line L27 (-11.5029, 60.4669) -> (11.5031, 60.4669)
  line L28 (-11.5029, 60.4669) -> (-11.5029, 74.5969)
  line L29 (11.5031, 74.5969) -> (-11.5029, 74.5969)
  line L30 (11.5031, 60.4669) -> (11.5031, 74.5969)
  line L31 (-40.1952, 46.6144) -> (-20.2715, 58.1174)
  line L32 (-40.1952, 46.6144) -> (-47.2602, 58.8513)
  line L33 (-27.3365, 70.3543) -> (-47.2602, 58.8513)
  line L34 (-20.2715, 58.1174) -> (-27.3365, 70.3543)
  line L35 (-58.1173, 20.2716) -> (-46.6143, 40.1954)
  line L36 (-58.1173, 20.2716) -> (-70.3542, 27.3366)
  line L37 (-58.8512, 47.2604) -> (-70.3542, 27.3366)
  line L38 (-46.6143, 40.1954) -> (-58.8512, 47.2604)
  line L39 (-60.4669, -11.5029) -> (-60.4669, 11.5031)
  line L40 (-60.4669, -11.5029) -> (-74.5969, -11.5029)
  line L41 (-74.5969, 11.5031) -> (-74.5969, -11.5029)
  line L42 (-60.4669, 11.5031) -> (-74.5969, 11.5031)
  line L43 (-46.6144, -40.1952) -> (-58.1174, -20.2715)
  line L44 (-46.6144, -40.1952) -> (-58.8513, -47.2602)
  line L45 (-70.3543, -27.3365) -> (-58.8513, -47.2602)
  line L46 (-58.1174, -20.2715) -> (-70.3543, -27.3365)
  line L47 (-20.2716, -58.1173) -> (-40.1954, -46.6143)
  line L48 (-20.2716, -58.1173) -> (-27.3366, -70.3542)
  line L49 (-47.2604, -58.8512) -> (-27.3366, -70.3542)
  line L50 (-40.1954, -46.6143) -> (-47.2604, -58.8512)
  dimension "d92" = 124.403
  dimension "d93" = 23.006
  dimension "d94" = 14.13
  dimension "d95" = 0.5
  dimension "d97" = 14.13
  dimension "d98" = 0.5
  dimension "d101" = 360
equation "\"d94\" = d97"
properties part number "SC-1-02-Test Tube Rack"
